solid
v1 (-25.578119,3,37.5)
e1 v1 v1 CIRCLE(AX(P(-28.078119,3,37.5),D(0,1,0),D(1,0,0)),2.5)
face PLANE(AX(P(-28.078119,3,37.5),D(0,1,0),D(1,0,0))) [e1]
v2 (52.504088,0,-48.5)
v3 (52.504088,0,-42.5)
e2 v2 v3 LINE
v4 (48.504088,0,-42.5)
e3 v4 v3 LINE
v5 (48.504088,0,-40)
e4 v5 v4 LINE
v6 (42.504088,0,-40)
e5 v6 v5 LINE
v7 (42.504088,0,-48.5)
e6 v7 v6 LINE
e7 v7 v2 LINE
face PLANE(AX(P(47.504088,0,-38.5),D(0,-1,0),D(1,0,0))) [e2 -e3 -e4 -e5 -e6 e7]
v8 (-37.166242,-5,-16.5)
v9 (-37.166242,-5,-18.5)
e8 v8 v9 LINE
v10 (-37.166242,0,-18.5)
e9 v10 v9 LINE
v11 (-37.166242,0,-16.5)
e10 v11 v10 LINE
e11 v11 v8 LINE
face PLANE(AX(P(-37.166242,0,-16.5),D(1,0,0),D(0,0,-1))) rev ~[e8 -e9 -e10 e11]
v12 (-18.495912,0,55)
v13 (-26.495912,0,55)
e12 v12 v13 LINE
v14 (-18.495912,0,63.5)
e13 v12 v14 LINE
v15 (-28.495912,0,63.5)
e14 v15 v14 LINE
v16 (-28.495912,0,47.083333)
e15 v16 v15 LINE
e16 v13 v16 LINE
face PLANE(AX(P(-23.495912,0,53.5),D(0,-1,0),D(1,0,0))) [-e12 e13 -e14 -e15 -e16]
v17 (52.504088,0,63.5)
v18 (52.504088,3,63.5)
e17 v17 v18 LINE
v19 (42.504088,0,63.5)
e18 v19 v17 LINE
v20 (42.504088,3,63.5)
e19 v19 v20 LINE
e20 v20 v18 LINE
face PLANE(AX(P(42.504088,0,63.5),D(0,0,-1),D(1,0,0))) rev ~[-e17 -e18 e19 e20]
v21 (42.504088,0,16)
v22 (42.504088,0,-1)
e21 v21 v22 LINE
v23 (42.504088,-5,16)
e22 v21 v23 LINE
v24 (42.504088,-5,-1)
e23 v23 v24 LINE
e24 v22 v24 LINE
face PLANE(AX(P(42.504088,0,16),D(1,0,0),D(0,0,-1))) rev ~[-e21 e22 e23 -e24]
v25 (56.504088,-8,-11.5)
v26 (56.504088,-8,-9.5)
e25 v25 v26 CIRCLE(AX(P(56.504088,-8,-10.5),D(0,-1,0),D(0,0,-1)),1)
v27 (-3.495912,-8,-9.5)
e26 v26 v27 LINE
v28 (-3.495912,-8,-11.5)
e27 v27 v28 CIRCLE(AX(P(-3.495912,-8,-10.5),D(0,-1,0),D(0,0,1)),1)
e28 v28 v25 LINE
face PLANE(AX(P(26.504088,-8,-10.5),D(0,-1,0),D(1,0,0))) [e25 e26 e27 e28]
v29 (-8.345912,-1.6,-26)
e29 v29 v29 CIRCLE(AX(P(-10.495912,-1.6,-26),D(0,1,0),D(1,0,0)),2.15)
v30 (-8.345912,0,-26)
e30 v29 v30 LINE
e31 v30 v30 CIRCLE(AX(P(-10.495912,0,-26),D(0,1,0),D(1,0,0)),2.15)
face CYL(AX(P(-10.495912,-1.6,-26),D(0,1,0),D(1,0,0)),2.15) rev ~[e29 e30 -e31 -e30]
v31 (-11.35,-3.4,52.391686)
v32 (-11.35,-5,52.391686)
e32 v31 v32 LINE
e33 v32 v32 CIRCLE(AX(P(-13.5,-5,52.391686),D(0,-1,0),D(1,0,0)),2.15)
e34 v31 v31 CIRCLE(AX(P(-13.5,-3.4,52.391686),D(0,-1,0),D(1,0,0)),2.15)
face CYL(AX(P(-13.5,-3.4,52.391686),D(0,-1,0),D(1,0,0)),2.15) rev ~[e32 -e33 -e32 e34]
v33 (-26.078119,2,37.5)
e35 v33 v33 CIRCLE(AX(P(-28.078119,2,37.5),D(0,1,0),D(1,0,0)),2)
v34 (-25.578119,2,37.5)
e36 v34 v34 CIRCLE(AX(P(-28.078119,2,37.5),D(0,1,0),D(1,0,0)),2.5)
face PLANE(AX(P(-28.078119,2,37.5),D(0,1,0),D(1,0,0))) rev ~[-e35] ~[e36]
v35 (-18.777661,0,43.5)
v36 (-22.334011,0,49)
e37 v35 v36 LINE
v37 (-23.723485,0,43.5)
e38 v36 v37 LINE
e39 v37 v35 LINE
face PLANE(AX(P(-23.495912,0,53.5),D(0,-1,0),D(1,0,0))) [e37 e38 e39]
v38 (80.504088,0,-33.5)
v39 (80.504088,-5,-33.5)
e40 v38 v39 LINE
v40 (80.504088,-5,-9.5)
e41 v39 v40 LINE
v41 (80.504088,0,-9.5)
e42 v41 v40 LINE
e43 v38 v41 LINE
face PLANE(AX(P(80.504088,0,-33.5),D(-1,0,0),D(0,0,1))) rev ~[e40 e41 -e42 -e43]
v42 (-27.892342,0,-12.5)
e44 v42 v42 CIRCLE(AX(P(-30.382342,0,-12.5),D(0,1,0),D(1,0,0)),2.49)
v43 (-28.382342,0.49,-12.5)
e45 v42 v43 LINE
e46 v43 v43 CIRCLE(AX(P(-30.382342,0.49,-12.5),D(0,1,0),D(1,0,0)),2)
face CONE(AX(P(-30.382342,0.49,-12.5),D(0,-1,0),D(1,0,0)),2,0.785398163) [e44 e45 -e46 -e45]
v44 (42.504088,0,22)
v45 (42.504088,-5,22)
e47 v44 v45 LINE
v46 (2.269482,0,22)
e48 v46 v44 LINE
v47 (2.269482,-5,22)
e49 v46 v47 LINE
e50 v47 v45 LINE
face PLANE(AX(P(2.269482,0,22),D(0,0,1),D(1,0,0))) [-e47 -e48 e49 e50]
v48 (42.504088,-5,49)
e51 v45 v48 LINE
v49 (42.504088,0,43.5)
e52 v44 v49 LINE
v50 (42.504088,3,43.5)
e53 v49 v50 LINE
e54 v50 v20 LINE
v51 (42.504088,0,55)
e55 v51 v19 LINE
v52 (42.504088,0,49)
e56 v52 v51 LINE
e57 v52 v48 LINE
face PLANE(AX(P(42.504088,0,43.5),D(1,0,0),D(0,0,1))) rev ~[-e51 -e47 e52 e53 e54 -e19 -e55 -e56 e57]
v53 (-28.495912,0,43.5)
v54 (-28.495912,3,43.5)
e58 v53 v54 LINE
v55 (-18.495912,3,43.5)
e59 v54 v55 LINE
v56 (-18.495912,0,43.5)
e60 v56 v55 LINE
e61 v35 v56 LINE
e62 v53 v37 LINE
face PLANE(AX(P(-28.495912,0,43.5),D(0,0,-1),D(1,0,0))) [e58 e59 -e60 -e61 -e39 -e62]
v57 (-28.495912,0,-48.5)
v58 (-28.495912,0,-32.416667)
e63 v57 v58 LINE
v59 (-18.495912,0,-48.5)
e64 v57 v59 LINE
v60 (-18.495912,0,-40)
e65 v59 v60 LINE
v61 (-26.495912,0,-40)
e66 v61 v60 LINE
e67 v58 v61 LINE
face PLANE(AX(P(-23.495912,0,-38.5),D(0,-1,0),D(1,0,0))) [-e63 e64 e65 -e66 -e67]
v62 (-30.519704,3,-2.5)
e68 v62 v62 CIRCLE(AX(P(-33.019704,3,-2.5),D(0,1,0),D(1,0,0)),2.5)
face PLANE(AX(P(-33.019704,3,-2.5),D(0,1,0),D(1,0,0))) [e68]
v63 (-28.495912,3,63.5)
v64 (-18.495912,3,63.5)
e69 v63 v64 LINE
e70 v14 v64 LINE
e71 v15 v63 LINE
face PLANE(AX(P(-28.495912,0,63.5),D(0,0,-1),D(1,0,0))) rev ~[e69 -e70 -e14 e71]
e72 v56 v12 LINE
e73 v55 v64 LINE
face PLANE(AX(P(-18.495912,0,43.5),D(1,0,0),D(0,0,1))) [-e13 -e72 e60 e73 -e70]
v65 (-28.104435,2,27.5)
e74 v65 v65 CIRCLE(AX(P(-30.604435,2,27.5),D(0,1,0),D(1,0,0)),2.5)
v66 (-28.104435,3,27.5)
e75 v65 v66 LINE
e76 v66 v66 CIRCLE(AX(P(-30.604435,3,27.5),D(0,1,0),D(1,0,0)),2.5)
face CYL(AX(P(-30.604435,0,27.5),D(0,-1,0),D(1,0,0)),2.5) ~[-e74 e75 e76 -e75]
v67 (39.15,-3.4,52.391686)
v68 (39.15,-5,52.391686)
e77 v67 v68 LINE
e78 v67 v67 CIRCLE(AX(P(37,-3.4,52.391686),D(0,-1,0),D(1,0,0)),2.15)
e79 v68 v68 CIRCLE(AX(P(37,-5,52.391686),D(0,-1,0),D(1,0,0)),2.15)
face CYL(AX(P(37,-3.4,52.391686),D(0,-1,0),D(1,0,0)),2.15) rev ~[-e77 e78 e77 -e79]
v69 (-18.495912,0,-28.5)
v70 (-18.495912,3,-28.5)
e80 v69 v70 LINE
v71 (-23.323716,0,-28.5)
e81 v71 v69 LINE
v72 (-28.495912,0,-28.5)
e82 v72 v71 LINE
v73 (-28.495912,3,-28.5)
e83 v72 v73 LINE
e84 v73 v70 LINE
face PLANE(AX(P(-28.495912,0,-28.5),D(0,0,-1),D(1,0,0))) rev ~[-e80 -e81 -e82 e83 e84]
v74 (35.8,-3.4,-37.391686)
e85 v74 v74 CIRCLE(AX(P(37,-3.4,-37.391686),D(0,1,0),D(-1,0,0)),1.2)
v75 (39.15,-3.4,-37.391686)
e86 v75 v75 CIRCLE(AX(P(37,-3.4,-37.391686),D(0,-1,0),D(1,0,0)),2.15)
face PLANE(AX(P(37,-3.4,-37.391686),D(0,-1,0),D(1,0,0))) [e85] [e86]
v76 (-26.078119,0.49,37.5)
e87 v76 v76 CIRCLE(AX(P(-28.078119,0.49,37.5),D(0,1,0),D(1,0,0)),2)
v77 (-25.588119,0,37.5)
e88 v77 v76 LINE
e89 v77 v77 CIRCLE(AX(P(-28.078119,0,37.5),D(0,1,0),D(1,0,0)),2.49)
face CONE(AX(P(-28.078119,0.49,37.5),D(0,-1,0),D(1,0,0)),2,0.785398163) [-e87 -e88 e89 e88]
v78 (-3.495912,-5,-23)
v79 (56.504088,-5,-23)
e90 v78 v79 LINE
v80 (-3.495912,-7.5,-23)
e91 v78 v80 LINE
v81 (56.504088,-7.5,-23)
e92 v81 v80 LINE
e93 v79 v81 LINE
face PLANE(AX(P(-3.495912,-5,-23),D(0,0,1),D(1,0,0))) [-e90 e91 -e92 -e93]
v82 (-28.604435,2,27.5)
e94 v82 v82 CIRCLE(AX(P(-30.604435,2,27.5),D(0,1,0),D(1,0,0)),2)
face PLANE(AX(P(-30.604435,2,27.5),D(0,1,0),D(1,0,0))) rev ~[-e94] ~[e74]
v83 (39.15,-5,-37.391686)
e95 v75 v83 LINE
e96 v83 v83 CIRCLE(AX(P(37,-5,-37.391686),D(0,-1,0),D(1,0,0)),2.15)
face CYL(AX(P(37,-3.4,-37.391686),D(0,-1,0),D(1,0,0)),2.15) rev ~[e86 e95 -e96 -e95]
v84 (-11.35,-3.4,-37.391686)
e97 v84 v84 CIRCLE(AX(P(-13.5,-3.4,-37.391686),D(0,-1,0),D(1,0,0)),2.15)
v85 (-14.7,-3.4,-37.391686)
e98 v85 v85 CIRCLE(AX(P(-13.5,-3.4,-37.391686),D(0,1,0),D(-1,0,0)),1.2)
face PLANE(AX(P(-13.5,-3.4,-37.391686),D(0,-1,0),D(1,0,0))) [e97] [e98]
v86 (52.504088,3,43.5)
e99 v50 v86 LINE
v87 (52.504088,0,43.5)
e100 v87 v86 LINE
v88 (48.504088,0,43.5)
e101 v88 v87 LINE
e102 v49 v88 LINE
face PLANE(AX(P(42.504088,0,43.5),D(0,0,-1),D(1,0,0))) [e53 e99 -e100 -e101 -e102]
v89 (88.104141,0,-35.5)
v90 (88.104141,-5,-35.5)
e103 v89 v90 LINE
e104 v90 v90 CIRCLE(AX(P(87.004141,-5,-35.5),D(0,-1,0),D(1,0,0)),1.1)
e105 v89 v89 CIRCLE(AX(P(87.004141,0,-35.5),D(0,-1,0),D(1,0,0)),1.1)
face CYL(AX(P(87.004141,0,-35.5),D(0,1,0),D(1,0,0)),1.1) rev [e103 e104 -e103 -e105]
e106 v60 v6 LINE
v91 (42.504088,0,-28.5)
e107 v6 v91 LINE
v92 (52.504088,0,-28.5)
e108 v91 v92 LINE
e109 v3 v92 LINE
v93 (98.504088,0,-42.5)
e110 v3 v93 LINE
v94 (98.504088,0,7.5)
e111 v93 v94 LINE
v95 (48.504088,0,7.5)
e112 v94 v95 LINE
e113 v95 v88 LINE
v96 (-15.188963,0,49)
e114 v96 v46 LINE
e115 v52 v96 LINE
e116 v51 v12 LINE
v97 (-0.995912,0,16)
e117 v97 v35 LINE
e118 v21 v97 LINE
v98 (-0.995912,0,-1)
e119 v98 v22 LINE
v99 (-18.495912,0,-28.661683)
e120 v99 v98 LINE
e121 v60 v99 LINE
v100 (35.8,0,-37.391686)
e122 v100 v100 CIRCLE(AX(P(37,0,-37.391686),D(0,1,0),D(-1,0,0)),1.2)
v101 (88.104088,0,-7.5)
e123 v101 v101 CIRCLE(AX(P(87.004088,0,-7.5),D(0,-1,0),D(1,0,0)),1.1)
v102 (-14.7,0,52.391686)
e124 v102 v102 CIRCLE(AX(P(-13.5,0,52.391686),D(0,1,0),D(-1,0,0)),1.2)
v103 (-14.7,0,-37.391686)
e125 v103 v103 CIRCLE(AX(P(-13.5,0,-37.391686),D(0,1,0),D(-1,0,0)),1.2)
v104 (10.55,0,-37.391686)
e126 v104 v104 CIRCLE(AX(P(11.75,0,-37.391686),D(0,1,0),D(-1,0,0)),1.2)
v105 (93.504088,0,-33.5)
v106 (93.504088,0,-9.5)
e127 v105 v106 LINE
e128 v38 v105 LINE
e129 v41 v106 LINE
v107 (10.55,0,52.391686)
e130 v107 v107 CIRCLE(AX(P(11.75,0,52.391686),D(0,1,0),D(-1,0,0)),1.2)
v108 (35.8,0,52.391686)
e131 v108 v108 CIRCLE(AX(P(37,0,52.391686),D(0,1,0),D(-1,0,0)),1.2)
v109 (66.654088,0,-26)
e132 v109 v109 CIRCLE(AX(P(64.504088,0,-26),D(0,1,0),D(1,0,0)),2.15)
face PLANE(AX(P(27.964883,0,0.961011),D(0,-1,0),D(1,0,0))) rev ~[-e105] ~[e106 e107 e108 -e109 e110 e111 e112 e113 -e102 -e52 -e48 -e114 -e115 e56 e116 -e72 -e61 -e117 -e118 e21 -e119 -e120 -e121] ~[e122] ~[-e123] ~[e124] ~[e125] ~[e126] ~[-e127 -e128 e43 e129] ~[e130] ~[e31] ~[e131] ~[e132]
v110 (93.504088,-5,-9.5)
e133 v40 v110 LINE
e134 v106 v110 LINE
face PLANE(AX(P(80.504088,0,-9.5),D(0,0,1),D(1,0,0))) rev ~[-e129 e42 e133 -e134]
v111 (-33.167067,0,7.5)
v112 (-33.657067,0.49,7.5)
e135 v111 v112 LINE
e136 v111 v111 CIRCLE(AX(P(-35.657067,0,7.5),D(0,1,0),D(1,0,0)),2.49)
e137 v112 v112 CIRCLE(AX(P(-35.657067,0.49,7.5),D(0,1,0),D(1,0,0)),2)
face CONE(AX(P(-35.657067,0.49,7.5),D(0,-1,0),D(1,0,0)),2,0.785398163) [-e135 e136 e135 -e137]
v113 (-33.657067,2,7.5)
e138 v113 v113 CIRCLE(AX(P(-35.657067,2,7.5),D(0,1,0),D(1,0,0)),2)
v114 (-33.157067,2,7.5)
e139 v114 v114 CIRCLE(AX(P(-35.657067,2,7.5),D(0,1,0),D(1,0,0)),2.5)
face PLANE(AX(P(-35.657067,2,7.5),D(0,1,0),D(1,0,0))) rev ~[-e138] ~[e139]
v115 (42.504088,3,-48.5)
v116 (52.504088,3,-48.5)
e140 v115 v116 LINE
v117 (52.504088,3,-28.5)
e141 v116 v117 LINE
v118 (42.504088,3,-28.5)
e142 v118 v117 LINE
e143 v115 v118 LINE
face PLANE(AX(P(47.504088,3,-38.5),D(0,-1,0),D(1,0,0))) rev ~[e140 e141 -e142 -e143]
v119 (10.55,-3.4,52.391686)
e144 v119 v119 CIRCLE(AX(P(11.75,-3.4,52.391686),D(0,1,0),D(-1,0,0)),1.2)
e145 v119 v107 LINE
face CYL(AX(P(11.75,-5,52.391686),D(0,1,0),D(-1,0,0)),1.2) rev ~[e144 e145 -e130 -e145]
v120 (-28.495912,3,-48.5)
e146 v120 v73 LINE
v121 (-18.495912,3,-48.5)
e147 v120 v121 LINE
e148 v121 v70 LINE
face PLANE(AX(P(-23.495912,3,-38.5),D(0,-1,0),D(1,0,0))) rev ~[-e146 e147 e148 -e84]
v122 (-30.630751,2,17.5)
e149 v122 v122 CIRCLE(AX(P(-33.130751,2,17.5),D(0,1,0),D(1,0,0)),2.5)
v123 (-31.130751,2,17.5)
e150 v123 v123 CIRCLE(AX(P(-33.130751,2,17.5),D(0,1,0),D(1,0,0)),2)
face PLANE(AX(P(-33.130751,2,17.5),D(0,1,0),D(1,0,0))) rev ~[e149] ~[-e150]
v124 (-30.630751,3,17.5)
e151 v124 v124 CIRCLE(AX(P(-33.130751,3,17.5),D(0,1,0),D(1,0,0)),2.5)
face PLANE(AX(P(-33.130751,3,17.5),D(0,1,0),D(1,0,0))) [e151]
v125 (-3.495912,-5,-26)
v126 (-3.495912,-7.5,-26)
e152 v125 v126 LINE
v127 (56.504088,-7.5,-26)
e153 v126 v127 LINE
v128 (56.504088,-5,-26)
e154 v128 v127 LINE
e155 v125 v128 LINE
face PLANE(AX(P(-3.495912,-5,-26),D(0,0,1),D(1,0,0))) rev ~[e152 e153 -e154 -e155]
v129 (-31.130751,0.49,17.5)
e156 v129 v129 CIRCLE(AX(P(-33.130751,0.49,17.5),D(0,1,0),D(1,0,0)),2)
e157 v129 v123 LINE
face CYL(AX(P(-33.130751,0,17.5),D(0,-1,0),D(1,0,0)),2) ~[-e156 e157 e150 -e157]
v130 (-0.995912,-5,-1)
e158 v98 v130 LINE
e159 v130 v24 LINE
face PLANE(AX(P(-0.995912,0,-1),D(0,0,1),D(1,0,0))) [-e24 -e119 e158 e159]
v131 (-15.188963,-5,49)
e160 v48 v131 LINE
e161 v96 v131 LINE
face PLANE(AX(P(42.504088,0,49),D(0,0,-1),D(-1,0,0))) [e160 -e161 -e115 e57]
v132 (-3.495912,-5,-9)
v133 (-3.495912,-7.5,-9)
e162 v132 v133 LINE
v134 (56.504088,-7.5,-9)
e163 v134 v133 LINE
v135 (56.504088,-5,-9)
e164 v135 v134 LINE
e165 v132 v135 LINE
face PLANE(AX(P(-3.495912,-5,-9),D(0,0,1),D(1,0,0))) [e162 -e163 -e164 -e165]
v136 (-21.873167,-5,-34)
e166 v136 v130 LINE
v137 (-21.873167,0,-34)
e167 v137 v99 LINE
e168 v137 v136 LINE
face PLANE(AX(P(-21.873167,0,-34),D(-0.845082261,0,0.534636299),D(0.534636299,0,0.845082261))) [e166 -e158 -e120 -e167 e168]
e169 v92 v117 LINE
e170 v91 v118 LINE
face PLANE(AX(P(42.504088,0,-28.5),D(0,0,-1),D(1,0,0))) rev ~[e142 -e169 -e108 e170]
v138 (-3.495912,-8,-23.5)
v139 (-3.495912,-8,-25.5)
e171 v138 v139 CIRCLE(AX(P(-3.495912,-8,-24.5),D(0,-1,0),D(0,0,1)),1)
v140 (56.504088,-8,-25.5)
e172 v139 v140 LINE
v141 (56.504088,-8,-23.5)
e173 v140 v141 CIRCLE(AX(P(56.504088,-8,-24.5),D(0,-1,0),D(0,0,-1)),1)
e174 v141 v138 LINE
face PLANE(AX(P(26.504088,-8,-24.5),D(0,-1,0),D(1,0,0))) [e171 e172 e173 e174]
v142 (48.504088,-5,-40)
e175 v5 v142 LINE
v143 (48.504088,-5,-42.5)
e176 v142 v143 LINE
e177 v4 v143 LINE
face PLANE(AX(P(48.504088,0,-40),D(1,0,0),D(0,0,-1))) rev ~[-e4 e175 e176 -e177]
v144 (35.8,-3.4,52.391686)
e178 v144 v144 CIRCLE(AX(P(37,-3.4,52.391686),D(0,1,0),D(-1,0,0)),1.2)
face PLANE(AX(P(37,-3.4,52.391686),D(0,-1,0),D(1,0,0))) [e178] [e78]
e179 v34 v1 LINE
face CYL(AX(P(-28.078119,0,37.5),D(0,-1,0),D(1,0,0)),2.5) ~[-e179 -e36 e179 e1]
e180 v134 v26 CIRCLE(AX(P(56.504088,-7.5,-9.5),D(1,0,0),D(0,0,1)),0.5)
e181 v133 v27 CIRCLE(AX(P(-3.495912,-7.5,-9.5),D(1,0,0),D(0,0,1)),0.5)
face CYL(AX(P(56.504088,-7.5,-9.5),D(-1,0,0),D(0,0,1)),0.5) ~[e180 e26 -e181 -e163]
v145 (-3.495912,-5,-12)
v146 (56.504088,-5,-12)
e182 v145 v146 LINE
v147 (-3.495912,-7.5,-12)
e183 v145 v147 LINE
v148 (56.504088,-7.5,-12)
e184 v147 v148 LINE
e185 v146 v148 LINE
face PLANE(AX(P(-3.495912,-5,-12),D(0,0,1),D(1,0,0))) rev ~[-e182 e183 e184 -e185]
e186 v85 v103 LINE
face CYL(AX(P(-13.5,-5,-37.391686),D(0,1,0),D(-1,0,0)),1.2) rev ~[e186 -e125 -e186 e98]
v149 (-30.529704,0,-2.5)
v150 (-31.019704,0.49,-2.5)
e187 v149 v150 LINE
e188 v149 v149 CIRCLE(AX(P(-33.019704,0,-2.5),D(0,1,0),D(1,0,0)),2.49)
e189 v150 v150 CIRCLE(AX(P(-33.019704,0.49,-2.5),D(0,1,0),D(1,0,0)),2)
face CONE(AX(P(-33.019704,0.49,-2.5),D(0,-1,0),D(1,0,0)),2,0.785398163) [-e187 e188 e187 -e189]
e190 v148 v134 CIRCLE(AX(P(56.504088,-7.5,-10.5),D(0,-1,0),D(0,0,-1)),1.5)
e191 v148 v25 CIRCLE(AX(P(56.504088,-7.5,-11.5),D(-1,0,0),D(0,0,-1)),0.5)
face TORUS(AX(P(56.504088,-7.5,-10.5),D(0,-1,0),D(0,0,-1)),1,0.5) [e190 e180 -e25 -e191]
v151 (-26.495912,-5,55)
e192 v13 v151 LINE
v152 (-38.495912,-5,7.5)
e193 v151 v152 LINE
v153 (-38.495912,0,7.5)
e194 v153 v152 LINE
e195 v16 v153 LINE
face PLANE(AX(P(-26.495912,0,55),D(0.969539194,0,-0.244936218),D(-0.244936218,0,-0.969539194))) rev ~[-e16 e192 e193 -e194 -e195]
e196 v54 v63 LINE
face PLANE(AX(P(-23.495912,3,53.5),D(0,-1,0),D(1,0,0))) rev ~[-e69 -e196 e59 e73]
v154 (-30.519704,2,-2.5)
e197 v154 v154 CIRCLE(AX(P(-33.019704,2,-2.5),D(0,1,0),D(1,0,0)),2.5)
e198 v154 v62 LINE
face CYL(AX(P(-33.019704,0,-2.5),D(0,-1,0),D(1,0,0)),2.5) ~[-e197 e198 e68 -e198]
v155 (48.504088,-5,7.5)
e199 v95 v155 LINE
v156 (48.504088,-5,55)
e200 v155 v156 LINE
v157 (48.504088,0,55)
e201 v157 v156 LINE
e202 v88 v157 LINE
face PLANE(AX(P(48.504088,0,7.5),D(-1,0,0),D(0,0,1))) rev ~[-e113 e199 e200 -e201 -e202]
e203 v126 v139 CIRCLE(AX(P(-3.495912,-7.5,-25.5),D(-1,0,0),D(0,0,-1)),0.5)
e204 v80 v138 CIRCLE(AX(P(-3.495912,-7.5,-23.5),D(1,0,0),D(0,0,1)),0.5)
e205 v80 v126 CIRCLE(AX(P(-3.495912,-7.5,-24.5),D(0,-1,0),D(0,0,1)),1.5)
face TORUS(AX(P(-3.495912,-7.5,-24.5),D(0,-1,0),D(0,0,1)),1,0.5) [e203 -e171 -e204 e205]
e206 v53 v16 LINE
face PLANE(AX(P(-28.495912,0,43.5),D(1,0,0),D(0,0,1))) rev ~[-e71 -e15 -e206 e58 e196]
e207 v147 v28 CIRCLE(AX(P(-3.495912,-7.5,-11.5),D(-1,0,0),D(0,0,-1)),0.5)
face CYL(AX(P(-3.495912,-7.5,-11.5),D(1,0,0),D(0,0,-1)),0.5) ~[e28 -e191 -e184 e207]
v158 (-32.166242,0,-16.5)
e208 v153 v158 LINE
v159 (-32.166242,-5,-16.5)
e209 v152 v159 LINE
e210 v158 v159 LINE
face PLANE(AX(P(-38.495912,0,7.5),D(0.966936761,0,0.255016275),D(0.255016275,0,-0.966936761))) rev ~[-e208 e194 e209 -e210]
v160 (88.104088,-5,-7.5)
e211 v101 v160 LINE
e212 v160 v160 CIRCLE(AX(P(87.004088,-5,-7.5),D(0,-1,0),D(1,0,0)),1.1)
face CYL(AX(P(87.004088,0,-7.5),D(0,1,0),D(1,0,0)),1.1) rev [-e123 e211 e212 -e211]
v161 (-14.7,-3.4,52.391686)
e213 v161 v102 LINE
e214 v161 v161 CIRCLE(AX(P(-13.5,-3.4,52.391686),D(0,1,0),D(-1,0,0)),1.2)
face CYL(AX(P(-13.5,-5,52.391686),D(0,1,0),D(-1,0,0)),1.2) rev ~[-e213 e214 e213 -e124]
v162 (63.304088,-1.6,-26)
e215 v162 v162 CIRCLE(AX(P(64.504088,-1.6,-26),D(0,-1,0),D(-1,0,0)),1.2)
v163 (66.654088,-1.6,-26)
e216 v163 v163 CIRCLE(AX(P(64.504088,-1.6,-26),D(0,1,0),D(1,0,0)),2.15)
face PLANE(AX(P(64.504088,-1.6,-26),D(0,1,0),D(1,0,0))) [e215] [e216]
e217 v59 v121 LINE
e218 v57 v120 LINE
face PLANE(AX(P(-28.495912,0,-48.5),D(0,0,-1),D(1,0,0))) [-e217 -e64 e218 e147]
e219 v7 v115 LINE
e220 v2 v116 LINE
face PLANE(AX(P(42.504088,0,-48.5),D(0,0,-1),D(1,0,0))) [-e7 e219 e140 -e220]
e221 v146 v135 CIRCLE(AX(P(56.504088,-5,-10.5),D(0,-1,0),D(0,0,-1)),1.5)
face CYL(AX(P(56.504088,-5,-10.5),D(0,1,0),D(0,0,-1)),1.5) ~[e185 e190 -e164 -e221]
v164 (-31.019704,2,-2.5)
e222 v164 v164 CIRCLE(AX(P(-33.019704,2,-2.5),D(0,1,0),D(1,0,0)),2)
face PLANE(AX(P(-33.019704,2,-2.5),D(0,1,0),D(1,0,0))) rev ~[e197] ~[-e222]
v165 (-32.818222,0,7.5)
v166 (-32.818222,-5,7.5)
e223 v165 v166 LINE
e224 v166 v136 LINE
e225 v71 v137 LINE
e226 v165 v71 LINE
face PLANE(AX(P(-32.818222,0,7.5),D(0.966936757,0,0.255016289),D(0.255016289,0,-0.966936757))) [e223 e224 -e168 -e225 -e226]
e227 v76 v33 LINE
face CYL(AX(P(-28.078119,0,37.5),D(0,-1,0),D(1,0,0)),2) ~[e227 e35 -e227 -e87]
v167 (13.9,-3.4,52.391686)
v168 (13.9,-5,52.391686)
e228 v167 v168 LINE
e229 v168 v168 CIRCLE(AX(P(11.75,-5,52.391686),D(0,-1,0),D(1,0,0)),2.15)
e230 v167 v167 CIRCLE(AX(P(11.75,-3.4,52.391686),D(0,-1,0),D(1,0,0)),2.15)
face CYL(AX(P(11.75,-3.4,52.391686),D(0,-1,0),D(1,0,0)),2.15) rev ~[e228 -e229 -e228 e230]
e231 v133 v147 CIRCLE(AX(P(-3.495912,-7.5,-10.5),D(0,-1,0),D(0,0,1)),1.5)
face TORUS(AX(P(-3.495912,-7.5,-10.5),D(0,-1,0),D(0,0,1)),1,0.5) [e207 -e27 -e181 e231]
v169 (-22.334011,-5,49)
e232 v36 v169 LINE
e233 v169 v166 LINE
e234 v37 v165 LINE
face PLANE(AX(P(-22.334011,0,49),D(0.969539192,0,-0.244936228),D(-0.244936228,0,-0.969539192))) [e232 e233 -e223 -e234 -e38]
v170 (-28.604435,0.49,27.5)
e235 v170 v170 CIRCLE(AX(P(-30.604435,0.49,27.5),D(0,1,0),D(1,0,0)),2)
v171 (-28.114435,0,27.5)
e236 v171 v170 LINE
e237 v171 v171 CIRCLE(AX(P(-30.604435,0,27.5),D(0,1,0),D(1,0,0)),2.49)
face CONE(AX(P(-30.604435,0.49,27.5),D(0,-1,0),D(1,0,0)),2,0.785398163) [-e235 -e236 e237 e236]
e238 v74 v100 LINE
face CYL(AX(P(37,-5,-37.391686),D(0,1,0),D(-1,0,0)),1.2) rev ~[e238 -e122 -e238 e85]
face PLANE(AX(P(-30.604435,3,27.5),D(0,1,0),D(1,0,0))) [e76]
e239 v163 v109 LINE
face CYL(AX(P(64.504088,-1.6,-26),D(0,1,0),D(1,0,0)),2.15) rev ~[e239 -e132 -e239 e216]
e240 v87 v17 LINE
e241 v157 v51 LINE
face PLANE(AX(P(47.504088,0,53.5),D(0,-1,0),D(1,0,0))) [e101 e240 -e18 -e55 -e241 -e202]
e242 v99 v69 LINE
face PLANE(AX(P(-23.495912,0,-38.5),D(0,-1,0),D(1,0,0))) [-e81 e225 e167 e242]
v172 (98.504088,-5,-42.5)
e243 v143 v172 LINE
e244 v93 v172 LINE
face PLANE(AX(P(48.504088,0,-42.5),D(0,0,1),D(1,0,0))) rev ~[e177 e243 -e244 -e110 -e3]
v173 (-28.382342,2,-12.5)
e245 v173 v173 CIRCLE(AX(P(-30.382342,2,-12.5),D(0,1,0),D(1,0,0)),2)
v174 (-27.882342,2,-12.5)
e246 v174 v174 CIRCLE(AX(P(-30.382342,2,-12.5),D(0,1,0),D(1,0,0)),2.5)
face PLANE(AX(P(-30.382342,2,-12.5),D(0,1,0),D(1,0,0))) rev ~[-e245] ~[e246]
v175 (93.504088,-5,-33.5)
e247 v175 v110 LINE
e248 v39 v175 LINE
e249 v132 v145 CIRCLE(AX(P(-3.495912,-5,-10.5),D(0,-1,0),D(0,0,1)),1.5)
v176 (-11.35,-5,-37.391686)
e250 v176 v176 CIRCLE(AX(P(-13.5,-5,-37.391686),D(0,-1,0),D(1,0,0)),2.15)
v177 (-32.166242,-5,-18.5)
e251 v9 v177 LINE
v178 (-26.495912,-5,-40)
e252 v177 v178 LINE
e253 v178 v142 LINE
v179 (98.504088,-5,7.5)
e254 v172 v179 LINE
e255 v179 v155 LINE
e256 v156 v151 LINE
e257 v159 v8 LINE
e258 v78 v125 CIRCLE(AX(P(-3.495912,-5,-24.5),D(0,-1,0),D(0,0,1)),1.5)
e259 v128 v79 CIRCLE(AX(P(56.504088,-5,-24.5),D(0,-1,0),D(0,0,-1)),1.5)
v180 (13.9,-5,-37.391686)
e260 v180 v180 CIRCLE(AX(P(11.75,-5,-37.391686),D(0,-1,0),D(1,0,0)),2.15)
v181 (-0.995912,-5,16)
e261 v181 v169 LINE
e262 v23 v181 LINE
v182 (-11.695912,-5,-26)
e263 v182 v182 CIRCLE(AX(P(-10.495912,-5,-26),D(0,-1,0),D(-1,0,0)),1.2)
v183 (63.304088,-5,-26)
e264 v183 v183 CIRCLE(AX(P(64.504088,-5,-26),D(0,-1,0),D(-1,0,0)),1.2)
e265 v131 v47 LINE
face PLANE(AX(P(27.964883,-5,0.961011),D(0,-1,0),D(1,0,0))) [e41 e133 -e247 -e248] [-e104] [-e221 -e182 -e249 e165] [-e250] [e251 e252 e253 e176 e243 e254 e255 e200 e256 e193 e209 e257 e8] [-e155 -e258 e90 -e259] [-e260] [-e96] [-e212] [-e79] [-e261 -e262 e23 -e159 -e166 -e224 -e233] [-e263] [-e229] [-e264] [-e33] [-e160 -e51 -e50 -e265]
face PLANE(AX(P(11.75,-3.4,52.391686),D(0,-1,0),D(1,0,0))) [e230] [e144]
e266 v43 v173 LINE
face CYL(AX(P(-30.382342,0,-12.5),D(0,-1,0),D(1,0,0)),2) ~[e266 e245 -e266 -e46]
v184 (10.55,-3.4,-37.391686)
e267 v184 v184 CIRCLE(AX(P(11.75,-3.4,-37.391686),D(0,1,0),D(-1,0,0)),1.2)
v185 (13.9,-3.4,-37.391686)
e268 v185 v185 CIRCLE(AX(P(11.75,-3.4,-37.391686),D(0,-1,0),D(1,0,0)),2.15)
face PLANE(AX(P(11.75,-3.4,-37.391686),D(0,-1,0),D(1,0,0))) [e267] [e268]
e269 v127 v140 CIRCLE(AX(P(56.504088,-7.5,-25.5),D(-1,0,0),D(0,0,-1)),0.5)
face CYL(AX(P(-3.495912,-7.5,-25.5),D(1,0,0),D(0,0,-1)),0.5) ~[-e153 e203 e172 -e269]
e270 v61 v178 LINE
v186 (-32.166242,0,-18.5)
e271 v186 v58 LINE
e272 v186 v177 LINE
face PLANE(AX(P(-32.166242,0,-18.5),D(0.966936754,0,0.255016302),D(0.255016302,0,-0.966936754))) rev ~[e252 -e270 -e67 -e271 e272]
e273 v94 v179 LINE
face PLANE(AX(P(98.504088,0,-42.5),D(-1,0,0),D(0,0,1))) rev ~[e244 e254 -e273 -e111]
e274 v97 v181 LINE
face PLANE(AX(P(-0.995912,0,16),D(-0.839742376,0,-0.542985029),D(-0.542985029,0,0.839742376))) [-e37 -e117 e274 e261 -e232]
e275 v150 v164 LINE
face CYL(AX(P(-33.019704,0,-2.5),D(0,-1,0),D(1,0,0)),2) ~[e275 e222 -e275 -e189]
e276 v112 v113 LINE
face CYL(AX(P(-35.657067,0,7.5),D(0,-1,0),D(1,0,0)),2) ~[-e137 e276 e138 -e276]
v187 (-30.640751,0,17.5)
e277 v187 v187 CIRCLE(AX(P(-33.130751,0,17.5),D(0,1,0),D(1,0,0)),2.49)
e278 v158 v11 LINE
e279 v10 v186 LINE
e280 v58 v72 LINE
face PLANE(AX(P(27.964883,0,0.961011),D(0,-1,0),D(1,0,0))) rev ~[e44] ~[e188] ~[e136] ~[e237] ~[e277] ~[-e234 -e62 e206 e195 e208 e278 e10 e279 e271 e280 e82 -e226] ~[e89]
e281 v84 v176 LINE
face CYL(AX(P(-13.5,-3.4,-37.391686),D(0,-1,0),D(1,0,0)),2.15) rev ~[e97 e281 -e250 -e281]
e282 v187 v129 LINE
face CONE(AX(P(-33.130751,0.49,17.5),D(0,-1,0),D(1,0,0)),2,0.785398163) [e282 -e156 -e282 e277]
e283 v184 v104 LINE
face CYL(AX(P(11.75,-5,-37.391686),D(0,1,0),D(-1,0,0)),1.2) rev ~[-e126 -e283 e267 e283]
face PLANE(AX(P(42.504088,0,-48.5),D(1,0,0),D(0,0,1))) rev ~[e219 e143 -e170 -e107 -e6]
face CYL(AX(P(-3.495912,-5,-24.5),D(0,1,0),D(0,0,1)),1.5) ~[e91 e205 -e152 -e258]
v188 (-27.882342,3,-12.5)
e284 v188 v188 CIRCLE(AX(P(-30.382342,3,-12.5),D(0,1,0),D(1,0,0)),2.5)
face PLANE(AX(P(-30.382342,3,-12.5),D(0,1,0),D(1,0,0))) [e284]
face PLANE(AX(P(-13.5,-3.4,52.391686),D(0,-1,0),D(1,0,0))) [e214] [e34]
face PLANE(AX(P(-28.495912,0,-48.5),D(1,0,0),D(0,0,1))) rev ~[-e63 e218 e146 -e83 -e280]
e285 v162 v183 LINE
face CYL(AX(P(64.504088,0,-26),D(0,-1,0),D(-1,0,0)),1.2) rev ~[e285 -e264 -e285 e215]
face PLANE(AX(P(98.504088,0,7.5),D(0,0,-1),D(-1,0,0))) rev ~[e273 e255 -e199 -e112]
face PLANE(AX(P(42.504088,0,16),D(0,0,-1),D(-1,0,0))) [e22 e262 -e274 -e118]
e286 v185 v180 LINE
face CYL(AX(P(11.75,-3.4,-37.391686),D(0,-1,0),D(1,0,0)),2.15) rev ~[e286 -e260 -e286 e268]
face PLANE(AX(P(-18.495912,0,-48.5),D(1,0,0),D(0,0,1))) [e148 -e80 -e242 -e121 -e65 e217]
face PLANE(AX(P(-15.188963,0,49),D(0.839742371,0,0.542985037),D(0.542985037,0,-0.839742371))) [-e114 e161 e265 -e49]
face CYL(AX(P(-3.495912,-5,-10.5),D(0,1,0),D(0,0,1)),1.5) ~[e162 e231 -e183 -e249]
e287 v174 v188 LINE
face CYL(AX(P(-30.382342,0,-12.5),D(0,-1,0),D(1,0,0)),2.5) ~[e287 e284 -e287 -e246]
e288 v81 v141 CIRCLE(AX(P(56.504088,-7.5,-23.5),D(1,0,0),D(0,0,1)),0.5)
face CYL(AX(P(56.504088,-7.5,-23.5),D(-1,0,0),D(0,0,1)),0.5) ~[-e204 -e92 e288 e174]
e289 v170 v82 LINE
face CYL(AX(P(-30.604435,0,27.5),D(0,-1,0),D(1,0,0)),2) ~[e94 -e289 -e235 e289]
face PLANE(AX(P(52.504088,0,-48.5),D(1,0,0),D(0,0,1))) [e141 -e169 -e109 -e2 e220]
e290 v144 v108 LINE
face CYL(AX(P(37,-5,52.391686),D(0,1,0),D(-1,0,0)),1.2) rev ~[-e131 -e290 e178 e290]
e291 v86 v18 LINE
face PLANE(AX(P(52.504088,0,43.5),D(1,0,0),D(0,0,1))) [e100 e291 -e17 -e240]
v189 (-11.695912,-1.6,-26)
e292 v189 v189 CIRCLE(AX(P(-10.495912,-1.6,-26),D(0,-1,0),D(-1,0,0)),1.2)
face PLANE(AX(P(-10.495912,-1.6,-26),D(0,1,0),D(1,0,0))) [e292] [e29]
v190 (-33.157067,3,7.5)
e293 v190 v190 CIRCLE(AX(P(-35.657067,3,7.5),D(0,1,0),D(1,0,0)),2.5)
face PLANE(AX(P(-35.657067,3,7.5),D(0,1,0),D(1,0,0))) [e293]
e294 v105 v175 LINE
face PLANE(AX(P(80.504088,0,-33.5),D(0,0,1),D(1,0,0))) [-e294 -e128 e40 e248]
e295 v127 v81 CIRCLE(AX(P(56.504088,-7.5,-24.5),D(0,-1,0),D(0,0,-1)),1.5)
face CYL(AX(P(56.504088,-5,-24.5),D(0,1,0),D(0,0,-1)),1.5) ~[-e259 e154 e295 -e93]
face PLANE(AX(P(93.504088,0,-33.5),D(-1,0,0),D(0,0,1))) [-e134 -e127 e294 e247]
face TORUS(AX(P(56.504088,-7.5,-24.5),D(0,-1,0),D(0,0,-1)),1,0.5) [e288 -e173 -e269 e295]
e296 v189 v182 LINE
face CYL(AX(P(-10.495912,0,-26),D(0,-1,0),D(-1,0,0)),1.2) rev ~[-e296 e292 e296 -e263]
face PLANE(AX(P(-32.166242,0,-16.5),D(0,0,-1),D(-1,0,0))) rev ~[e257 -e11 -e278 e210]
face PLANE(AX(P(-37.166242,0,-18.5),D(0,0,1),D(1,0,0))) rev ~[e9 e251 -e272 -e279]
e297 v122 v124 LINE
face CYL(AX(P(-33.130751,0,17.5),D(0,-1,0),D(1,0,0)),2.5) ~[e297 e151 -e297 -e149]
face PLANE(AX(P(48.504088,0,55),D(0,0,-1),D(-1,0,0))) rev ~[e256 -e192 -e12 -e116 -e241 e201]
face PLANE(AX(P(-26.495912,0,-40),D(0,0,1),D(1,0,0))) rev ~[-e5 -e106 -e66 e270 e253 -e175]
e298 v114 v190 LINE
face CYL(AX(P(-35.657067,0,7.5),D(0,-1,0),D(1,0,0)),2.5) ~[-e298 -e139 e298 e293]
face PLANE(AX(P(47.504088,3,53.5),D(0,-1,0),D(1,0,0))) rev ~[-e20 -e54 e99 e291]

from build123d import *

# Parameters (mm, degrees)
SKETCH001_R         = 1.1
SKETCH001_W         = 13
SKETCH001_H         = 24
PAD_DEPTH           = 5
HOLE_D              = 2.4
HOLE_CBORE_D        = 4.3
HOLE_CBORE_DEPTH    = 1.6
SKETCH003_W         = 10
SKETCH003_H         = 20
PAD001_DEPTH        = 3
PAD002_DEPTH        = 3
SKETCH005_R         = 2.5
PAD003_DEPTH        = 3
SKETCH006_R         = 2.5
SKETCH006_R_2       = 2
POCKET_DEPTH        = 2
CHAMFER_SIZE        = 0.49
FILLET_R            = 0.5
HOLE001_D           = 2.4
HOLE001_DEPTH       = 25
HOLE001_CBORE_D     = 4.3
HOLE001_CBORE_DEPTH = 1.6


with BuildPart() as part:
    # Sketch001 → Pad (new body)
    with BuildSketch(Plane.XZ):
        Polygon((48.504088, 55), (-26.495912, 55), (-38.495912, 7.5), (-32.166242, -16.5), (-37.166242, -16.5), (-37.166242, -18.5), (-32.166242, -18.5), (-26.495912, -40), (48.504088, -40), (48.504088, -42.5), (98.504088, -42.5), (98.504088, 7.5), (48.504088, 7.5), align=None)
        with Locations((87.004088, -7.5)):
            Circle(SKETCH001_R, mode=Mode.SUBTRACT)
        with Locations((87.004141, -35.5)):
            Circle(SKETCH001_R, mode=Mode.SUBTRACT)
        Polygon((-22.334011, 49), (-32.818222, 7.5), (-21.873167, -34), (-0.995912, -1), (42.504088, -1), (42.504088, 7.5), (42.504088, 16), (-0.995912, 16), align=None, mode=Mode.SUBTRACT)
        Polygon((42.504088, 49), (-15.188963, 49), (2.269482, 22), (42.504088, 22), align=None, mode=Mode.SUBTRACT)
        with Locations((87.004088, -21.5)):
            Rectangle(SKETCH001_W, SKETCH001_H, mode=Mode.SUBTRACT)
    extrude(amount=PAD_DEPTH)

    # Hole (through all)
    with Locations(Plane.XZ.offset(5)):
        with Locations((-13.5, 52.391686), (11.75, 52.391686), (37, 52.391686), (-13.5, -37.391686), (11.75, -37.391686), (37, -37.391686)):
            CounterBoreHole(HOLE_D / 2, HOLE_CBORE_D / 2, HOLE_CBORE_DEPTH)

    # Sketch003 → Pad001 (join)
    with BuildSketch(Plane.XZ):
        with Locations((-23.495912, 53.5)):
            Rectangle(SKETCH003_W, SKETCH003_H)
        with Locations((47.504088, 53.5)):
            Rectangle(SKETCH003_W, SKETCH003_H)
        with Locations((-23.495912, -38.5)):
            Rectangle(SKETCH003_W, SKETCH003_H)
        with Locations((47.504088, -38.5)):
            Rectangle(SKETCH003_W, SKETCH003_H)
    extrude(amount=-PAD001_DEPTH)

    # Sketch004 (on Face6 of Pad001) → Pad002 (join)
    with BuildSketch(Plane.XZ.offset(5)):
        with BuildLine():
            ThreePointArc((-3.495912, -9), (-4.995912, -10.5), (-3.495912, -12))
            Line((-3.495912, -12), (56.504088, -12))
            ThreePointArc((56.504088, -12), (58.004088, -10.5), (56.504088, -9))
            Line((-3.495912, -9), (56.504088, -9))
        make_face()
        with BuildLine():
            ThreePointArc((-3.495912, -23), (-4.995912, -24.5), (-3.495912, -26))
            Line((-3.495912, -26), (56.504088, -26))
            ThreePointArc((56.504088, -26), (58.004088, -24.5), (56.504088, -23))
            Line((-3.495912, -23), (56.504088, -23))
        make_face()
    extrude(amount=PAD002_DEPTH)

    # Sketch005 → Pad003 (join)
    with BuildSketch(Plane(origin=(0, 0, 0), x_dir=(1, 0, 0), z_dir=(0, 1, 0))):
        with Locations((-30.382342, 12.5)):
            Circle(SKETCH005_R)
        with Locations((-33.019704, 2.5)):
            Circle(SKETCH005_R)
        with Locations((-35.657067, -7.5)):
            Circle(SKETCH005_R)
        with Locations((-33.130751, -17.5)):
            Circle(SKETCH005_R)
        with Locations((-30.604435, -27.5)):
            Circle(SKETCH005_R)
        with Locations((-28.078119, -37.5)):
            Circle(SKETCH005_R)
    extrude(amount=PAD003_DEPTH)

    # Sketch006 → Pocket (cut)
    with BuildSketch(Plane(origin=(0, 0, 0), x_dir=(1, 0, 0), z_dir=(0, 1, 0))):
        with Locations((-30.382342, 12.5)):
            Circle(SKETCH006_R)
        with Locations((-30.382342, 12.5)):
            Circle(SKETCH006_R_2, mode=Mode.SUBTRACT)
        with Locations((-33.019704, 2.5)):
            Circle(SKETCH006_R)
        with Locations((-33.019704, 2.5)):
            Circle(SKETCH006_R_2, mode=Mode.SUBTRACT)
        with Locations((-35.657067, -7.5)):
            Circle(SKETCH006_R)
        with Locations((-35.657067, -7.5)):
            Circle(SKETCH006_R_2, mode=Mode.SUBTRACT)
        with Locations((-33.130751, -17.5)):
            Circle(SKETCH006_R)
        with Locations((-33.130751, -17.5)):
            Circle(SKETCH006_R_2, mode=Mode.SUBTRACT)
        with Locations((-30.604435, -27.5)):
            Circle(SKETCH006_R)
        with Locations((-30.604435, -27.5)):
            Circle(SKETCH006_R_2, mode=Mode.SUBTRACT)
        with Locations((-28.078119, -37.5)):
            Circle(SKETCH006_R)
        with Locations((-28.078119, -37.5)):
            Circle(SKETCH006_R_2, mode=Mode.SUBTRACT)
    extrude(amount=POCKET_DEPTH, mode=Mode.SUBTRACT)

    # Chamfer
    chamfer_edges = [part.edges().sort_by_distance(p)[0] for p in [
        (-30.078119, 0, 37.5),
        (-32.604435, 0, 27.5),
        (-35.130751, 0, 17.5),
        (-37.657067, 0, 7.5),
        (-35.019704, 0, -2.5),
        (-32.382342, 0, -12.5),
    ]]
    chamfer(chamfer_edges, length=CHAMFER_SIZE)

    # Fillet
    fillet_edges = [part.edges().sort_by_distance(p)[0] for p in [
        (-4.995912, -8, -24.5),
        (26.504088, -8, -26),
        (58.004088, -8, -24.5),
        (26.504088, -8, -23),
        (-4.995912, -8, -10.5),
        (26.504088, -8, -12),
        (58.004088, -8, -10.5),
        (26.504088, -8, -9),
    ]]
    fillet(fillet_edges, radius=FILLET_R)

    # Hole001
    with Locations(Plane(origin=(0, 0, 0), x_dir=(1, 0, 0), z_dir=(0, 1, 0))):
        with Locations((-10.495912, 26), (64.504088, 26)):
            CounterBoreHole(HOLE001_D / 2, HOLE001_CBORE_D / 2, HOLE001_CBORE_DEPTH, depth=HOLE001_DEPTH)


solid = part.part
